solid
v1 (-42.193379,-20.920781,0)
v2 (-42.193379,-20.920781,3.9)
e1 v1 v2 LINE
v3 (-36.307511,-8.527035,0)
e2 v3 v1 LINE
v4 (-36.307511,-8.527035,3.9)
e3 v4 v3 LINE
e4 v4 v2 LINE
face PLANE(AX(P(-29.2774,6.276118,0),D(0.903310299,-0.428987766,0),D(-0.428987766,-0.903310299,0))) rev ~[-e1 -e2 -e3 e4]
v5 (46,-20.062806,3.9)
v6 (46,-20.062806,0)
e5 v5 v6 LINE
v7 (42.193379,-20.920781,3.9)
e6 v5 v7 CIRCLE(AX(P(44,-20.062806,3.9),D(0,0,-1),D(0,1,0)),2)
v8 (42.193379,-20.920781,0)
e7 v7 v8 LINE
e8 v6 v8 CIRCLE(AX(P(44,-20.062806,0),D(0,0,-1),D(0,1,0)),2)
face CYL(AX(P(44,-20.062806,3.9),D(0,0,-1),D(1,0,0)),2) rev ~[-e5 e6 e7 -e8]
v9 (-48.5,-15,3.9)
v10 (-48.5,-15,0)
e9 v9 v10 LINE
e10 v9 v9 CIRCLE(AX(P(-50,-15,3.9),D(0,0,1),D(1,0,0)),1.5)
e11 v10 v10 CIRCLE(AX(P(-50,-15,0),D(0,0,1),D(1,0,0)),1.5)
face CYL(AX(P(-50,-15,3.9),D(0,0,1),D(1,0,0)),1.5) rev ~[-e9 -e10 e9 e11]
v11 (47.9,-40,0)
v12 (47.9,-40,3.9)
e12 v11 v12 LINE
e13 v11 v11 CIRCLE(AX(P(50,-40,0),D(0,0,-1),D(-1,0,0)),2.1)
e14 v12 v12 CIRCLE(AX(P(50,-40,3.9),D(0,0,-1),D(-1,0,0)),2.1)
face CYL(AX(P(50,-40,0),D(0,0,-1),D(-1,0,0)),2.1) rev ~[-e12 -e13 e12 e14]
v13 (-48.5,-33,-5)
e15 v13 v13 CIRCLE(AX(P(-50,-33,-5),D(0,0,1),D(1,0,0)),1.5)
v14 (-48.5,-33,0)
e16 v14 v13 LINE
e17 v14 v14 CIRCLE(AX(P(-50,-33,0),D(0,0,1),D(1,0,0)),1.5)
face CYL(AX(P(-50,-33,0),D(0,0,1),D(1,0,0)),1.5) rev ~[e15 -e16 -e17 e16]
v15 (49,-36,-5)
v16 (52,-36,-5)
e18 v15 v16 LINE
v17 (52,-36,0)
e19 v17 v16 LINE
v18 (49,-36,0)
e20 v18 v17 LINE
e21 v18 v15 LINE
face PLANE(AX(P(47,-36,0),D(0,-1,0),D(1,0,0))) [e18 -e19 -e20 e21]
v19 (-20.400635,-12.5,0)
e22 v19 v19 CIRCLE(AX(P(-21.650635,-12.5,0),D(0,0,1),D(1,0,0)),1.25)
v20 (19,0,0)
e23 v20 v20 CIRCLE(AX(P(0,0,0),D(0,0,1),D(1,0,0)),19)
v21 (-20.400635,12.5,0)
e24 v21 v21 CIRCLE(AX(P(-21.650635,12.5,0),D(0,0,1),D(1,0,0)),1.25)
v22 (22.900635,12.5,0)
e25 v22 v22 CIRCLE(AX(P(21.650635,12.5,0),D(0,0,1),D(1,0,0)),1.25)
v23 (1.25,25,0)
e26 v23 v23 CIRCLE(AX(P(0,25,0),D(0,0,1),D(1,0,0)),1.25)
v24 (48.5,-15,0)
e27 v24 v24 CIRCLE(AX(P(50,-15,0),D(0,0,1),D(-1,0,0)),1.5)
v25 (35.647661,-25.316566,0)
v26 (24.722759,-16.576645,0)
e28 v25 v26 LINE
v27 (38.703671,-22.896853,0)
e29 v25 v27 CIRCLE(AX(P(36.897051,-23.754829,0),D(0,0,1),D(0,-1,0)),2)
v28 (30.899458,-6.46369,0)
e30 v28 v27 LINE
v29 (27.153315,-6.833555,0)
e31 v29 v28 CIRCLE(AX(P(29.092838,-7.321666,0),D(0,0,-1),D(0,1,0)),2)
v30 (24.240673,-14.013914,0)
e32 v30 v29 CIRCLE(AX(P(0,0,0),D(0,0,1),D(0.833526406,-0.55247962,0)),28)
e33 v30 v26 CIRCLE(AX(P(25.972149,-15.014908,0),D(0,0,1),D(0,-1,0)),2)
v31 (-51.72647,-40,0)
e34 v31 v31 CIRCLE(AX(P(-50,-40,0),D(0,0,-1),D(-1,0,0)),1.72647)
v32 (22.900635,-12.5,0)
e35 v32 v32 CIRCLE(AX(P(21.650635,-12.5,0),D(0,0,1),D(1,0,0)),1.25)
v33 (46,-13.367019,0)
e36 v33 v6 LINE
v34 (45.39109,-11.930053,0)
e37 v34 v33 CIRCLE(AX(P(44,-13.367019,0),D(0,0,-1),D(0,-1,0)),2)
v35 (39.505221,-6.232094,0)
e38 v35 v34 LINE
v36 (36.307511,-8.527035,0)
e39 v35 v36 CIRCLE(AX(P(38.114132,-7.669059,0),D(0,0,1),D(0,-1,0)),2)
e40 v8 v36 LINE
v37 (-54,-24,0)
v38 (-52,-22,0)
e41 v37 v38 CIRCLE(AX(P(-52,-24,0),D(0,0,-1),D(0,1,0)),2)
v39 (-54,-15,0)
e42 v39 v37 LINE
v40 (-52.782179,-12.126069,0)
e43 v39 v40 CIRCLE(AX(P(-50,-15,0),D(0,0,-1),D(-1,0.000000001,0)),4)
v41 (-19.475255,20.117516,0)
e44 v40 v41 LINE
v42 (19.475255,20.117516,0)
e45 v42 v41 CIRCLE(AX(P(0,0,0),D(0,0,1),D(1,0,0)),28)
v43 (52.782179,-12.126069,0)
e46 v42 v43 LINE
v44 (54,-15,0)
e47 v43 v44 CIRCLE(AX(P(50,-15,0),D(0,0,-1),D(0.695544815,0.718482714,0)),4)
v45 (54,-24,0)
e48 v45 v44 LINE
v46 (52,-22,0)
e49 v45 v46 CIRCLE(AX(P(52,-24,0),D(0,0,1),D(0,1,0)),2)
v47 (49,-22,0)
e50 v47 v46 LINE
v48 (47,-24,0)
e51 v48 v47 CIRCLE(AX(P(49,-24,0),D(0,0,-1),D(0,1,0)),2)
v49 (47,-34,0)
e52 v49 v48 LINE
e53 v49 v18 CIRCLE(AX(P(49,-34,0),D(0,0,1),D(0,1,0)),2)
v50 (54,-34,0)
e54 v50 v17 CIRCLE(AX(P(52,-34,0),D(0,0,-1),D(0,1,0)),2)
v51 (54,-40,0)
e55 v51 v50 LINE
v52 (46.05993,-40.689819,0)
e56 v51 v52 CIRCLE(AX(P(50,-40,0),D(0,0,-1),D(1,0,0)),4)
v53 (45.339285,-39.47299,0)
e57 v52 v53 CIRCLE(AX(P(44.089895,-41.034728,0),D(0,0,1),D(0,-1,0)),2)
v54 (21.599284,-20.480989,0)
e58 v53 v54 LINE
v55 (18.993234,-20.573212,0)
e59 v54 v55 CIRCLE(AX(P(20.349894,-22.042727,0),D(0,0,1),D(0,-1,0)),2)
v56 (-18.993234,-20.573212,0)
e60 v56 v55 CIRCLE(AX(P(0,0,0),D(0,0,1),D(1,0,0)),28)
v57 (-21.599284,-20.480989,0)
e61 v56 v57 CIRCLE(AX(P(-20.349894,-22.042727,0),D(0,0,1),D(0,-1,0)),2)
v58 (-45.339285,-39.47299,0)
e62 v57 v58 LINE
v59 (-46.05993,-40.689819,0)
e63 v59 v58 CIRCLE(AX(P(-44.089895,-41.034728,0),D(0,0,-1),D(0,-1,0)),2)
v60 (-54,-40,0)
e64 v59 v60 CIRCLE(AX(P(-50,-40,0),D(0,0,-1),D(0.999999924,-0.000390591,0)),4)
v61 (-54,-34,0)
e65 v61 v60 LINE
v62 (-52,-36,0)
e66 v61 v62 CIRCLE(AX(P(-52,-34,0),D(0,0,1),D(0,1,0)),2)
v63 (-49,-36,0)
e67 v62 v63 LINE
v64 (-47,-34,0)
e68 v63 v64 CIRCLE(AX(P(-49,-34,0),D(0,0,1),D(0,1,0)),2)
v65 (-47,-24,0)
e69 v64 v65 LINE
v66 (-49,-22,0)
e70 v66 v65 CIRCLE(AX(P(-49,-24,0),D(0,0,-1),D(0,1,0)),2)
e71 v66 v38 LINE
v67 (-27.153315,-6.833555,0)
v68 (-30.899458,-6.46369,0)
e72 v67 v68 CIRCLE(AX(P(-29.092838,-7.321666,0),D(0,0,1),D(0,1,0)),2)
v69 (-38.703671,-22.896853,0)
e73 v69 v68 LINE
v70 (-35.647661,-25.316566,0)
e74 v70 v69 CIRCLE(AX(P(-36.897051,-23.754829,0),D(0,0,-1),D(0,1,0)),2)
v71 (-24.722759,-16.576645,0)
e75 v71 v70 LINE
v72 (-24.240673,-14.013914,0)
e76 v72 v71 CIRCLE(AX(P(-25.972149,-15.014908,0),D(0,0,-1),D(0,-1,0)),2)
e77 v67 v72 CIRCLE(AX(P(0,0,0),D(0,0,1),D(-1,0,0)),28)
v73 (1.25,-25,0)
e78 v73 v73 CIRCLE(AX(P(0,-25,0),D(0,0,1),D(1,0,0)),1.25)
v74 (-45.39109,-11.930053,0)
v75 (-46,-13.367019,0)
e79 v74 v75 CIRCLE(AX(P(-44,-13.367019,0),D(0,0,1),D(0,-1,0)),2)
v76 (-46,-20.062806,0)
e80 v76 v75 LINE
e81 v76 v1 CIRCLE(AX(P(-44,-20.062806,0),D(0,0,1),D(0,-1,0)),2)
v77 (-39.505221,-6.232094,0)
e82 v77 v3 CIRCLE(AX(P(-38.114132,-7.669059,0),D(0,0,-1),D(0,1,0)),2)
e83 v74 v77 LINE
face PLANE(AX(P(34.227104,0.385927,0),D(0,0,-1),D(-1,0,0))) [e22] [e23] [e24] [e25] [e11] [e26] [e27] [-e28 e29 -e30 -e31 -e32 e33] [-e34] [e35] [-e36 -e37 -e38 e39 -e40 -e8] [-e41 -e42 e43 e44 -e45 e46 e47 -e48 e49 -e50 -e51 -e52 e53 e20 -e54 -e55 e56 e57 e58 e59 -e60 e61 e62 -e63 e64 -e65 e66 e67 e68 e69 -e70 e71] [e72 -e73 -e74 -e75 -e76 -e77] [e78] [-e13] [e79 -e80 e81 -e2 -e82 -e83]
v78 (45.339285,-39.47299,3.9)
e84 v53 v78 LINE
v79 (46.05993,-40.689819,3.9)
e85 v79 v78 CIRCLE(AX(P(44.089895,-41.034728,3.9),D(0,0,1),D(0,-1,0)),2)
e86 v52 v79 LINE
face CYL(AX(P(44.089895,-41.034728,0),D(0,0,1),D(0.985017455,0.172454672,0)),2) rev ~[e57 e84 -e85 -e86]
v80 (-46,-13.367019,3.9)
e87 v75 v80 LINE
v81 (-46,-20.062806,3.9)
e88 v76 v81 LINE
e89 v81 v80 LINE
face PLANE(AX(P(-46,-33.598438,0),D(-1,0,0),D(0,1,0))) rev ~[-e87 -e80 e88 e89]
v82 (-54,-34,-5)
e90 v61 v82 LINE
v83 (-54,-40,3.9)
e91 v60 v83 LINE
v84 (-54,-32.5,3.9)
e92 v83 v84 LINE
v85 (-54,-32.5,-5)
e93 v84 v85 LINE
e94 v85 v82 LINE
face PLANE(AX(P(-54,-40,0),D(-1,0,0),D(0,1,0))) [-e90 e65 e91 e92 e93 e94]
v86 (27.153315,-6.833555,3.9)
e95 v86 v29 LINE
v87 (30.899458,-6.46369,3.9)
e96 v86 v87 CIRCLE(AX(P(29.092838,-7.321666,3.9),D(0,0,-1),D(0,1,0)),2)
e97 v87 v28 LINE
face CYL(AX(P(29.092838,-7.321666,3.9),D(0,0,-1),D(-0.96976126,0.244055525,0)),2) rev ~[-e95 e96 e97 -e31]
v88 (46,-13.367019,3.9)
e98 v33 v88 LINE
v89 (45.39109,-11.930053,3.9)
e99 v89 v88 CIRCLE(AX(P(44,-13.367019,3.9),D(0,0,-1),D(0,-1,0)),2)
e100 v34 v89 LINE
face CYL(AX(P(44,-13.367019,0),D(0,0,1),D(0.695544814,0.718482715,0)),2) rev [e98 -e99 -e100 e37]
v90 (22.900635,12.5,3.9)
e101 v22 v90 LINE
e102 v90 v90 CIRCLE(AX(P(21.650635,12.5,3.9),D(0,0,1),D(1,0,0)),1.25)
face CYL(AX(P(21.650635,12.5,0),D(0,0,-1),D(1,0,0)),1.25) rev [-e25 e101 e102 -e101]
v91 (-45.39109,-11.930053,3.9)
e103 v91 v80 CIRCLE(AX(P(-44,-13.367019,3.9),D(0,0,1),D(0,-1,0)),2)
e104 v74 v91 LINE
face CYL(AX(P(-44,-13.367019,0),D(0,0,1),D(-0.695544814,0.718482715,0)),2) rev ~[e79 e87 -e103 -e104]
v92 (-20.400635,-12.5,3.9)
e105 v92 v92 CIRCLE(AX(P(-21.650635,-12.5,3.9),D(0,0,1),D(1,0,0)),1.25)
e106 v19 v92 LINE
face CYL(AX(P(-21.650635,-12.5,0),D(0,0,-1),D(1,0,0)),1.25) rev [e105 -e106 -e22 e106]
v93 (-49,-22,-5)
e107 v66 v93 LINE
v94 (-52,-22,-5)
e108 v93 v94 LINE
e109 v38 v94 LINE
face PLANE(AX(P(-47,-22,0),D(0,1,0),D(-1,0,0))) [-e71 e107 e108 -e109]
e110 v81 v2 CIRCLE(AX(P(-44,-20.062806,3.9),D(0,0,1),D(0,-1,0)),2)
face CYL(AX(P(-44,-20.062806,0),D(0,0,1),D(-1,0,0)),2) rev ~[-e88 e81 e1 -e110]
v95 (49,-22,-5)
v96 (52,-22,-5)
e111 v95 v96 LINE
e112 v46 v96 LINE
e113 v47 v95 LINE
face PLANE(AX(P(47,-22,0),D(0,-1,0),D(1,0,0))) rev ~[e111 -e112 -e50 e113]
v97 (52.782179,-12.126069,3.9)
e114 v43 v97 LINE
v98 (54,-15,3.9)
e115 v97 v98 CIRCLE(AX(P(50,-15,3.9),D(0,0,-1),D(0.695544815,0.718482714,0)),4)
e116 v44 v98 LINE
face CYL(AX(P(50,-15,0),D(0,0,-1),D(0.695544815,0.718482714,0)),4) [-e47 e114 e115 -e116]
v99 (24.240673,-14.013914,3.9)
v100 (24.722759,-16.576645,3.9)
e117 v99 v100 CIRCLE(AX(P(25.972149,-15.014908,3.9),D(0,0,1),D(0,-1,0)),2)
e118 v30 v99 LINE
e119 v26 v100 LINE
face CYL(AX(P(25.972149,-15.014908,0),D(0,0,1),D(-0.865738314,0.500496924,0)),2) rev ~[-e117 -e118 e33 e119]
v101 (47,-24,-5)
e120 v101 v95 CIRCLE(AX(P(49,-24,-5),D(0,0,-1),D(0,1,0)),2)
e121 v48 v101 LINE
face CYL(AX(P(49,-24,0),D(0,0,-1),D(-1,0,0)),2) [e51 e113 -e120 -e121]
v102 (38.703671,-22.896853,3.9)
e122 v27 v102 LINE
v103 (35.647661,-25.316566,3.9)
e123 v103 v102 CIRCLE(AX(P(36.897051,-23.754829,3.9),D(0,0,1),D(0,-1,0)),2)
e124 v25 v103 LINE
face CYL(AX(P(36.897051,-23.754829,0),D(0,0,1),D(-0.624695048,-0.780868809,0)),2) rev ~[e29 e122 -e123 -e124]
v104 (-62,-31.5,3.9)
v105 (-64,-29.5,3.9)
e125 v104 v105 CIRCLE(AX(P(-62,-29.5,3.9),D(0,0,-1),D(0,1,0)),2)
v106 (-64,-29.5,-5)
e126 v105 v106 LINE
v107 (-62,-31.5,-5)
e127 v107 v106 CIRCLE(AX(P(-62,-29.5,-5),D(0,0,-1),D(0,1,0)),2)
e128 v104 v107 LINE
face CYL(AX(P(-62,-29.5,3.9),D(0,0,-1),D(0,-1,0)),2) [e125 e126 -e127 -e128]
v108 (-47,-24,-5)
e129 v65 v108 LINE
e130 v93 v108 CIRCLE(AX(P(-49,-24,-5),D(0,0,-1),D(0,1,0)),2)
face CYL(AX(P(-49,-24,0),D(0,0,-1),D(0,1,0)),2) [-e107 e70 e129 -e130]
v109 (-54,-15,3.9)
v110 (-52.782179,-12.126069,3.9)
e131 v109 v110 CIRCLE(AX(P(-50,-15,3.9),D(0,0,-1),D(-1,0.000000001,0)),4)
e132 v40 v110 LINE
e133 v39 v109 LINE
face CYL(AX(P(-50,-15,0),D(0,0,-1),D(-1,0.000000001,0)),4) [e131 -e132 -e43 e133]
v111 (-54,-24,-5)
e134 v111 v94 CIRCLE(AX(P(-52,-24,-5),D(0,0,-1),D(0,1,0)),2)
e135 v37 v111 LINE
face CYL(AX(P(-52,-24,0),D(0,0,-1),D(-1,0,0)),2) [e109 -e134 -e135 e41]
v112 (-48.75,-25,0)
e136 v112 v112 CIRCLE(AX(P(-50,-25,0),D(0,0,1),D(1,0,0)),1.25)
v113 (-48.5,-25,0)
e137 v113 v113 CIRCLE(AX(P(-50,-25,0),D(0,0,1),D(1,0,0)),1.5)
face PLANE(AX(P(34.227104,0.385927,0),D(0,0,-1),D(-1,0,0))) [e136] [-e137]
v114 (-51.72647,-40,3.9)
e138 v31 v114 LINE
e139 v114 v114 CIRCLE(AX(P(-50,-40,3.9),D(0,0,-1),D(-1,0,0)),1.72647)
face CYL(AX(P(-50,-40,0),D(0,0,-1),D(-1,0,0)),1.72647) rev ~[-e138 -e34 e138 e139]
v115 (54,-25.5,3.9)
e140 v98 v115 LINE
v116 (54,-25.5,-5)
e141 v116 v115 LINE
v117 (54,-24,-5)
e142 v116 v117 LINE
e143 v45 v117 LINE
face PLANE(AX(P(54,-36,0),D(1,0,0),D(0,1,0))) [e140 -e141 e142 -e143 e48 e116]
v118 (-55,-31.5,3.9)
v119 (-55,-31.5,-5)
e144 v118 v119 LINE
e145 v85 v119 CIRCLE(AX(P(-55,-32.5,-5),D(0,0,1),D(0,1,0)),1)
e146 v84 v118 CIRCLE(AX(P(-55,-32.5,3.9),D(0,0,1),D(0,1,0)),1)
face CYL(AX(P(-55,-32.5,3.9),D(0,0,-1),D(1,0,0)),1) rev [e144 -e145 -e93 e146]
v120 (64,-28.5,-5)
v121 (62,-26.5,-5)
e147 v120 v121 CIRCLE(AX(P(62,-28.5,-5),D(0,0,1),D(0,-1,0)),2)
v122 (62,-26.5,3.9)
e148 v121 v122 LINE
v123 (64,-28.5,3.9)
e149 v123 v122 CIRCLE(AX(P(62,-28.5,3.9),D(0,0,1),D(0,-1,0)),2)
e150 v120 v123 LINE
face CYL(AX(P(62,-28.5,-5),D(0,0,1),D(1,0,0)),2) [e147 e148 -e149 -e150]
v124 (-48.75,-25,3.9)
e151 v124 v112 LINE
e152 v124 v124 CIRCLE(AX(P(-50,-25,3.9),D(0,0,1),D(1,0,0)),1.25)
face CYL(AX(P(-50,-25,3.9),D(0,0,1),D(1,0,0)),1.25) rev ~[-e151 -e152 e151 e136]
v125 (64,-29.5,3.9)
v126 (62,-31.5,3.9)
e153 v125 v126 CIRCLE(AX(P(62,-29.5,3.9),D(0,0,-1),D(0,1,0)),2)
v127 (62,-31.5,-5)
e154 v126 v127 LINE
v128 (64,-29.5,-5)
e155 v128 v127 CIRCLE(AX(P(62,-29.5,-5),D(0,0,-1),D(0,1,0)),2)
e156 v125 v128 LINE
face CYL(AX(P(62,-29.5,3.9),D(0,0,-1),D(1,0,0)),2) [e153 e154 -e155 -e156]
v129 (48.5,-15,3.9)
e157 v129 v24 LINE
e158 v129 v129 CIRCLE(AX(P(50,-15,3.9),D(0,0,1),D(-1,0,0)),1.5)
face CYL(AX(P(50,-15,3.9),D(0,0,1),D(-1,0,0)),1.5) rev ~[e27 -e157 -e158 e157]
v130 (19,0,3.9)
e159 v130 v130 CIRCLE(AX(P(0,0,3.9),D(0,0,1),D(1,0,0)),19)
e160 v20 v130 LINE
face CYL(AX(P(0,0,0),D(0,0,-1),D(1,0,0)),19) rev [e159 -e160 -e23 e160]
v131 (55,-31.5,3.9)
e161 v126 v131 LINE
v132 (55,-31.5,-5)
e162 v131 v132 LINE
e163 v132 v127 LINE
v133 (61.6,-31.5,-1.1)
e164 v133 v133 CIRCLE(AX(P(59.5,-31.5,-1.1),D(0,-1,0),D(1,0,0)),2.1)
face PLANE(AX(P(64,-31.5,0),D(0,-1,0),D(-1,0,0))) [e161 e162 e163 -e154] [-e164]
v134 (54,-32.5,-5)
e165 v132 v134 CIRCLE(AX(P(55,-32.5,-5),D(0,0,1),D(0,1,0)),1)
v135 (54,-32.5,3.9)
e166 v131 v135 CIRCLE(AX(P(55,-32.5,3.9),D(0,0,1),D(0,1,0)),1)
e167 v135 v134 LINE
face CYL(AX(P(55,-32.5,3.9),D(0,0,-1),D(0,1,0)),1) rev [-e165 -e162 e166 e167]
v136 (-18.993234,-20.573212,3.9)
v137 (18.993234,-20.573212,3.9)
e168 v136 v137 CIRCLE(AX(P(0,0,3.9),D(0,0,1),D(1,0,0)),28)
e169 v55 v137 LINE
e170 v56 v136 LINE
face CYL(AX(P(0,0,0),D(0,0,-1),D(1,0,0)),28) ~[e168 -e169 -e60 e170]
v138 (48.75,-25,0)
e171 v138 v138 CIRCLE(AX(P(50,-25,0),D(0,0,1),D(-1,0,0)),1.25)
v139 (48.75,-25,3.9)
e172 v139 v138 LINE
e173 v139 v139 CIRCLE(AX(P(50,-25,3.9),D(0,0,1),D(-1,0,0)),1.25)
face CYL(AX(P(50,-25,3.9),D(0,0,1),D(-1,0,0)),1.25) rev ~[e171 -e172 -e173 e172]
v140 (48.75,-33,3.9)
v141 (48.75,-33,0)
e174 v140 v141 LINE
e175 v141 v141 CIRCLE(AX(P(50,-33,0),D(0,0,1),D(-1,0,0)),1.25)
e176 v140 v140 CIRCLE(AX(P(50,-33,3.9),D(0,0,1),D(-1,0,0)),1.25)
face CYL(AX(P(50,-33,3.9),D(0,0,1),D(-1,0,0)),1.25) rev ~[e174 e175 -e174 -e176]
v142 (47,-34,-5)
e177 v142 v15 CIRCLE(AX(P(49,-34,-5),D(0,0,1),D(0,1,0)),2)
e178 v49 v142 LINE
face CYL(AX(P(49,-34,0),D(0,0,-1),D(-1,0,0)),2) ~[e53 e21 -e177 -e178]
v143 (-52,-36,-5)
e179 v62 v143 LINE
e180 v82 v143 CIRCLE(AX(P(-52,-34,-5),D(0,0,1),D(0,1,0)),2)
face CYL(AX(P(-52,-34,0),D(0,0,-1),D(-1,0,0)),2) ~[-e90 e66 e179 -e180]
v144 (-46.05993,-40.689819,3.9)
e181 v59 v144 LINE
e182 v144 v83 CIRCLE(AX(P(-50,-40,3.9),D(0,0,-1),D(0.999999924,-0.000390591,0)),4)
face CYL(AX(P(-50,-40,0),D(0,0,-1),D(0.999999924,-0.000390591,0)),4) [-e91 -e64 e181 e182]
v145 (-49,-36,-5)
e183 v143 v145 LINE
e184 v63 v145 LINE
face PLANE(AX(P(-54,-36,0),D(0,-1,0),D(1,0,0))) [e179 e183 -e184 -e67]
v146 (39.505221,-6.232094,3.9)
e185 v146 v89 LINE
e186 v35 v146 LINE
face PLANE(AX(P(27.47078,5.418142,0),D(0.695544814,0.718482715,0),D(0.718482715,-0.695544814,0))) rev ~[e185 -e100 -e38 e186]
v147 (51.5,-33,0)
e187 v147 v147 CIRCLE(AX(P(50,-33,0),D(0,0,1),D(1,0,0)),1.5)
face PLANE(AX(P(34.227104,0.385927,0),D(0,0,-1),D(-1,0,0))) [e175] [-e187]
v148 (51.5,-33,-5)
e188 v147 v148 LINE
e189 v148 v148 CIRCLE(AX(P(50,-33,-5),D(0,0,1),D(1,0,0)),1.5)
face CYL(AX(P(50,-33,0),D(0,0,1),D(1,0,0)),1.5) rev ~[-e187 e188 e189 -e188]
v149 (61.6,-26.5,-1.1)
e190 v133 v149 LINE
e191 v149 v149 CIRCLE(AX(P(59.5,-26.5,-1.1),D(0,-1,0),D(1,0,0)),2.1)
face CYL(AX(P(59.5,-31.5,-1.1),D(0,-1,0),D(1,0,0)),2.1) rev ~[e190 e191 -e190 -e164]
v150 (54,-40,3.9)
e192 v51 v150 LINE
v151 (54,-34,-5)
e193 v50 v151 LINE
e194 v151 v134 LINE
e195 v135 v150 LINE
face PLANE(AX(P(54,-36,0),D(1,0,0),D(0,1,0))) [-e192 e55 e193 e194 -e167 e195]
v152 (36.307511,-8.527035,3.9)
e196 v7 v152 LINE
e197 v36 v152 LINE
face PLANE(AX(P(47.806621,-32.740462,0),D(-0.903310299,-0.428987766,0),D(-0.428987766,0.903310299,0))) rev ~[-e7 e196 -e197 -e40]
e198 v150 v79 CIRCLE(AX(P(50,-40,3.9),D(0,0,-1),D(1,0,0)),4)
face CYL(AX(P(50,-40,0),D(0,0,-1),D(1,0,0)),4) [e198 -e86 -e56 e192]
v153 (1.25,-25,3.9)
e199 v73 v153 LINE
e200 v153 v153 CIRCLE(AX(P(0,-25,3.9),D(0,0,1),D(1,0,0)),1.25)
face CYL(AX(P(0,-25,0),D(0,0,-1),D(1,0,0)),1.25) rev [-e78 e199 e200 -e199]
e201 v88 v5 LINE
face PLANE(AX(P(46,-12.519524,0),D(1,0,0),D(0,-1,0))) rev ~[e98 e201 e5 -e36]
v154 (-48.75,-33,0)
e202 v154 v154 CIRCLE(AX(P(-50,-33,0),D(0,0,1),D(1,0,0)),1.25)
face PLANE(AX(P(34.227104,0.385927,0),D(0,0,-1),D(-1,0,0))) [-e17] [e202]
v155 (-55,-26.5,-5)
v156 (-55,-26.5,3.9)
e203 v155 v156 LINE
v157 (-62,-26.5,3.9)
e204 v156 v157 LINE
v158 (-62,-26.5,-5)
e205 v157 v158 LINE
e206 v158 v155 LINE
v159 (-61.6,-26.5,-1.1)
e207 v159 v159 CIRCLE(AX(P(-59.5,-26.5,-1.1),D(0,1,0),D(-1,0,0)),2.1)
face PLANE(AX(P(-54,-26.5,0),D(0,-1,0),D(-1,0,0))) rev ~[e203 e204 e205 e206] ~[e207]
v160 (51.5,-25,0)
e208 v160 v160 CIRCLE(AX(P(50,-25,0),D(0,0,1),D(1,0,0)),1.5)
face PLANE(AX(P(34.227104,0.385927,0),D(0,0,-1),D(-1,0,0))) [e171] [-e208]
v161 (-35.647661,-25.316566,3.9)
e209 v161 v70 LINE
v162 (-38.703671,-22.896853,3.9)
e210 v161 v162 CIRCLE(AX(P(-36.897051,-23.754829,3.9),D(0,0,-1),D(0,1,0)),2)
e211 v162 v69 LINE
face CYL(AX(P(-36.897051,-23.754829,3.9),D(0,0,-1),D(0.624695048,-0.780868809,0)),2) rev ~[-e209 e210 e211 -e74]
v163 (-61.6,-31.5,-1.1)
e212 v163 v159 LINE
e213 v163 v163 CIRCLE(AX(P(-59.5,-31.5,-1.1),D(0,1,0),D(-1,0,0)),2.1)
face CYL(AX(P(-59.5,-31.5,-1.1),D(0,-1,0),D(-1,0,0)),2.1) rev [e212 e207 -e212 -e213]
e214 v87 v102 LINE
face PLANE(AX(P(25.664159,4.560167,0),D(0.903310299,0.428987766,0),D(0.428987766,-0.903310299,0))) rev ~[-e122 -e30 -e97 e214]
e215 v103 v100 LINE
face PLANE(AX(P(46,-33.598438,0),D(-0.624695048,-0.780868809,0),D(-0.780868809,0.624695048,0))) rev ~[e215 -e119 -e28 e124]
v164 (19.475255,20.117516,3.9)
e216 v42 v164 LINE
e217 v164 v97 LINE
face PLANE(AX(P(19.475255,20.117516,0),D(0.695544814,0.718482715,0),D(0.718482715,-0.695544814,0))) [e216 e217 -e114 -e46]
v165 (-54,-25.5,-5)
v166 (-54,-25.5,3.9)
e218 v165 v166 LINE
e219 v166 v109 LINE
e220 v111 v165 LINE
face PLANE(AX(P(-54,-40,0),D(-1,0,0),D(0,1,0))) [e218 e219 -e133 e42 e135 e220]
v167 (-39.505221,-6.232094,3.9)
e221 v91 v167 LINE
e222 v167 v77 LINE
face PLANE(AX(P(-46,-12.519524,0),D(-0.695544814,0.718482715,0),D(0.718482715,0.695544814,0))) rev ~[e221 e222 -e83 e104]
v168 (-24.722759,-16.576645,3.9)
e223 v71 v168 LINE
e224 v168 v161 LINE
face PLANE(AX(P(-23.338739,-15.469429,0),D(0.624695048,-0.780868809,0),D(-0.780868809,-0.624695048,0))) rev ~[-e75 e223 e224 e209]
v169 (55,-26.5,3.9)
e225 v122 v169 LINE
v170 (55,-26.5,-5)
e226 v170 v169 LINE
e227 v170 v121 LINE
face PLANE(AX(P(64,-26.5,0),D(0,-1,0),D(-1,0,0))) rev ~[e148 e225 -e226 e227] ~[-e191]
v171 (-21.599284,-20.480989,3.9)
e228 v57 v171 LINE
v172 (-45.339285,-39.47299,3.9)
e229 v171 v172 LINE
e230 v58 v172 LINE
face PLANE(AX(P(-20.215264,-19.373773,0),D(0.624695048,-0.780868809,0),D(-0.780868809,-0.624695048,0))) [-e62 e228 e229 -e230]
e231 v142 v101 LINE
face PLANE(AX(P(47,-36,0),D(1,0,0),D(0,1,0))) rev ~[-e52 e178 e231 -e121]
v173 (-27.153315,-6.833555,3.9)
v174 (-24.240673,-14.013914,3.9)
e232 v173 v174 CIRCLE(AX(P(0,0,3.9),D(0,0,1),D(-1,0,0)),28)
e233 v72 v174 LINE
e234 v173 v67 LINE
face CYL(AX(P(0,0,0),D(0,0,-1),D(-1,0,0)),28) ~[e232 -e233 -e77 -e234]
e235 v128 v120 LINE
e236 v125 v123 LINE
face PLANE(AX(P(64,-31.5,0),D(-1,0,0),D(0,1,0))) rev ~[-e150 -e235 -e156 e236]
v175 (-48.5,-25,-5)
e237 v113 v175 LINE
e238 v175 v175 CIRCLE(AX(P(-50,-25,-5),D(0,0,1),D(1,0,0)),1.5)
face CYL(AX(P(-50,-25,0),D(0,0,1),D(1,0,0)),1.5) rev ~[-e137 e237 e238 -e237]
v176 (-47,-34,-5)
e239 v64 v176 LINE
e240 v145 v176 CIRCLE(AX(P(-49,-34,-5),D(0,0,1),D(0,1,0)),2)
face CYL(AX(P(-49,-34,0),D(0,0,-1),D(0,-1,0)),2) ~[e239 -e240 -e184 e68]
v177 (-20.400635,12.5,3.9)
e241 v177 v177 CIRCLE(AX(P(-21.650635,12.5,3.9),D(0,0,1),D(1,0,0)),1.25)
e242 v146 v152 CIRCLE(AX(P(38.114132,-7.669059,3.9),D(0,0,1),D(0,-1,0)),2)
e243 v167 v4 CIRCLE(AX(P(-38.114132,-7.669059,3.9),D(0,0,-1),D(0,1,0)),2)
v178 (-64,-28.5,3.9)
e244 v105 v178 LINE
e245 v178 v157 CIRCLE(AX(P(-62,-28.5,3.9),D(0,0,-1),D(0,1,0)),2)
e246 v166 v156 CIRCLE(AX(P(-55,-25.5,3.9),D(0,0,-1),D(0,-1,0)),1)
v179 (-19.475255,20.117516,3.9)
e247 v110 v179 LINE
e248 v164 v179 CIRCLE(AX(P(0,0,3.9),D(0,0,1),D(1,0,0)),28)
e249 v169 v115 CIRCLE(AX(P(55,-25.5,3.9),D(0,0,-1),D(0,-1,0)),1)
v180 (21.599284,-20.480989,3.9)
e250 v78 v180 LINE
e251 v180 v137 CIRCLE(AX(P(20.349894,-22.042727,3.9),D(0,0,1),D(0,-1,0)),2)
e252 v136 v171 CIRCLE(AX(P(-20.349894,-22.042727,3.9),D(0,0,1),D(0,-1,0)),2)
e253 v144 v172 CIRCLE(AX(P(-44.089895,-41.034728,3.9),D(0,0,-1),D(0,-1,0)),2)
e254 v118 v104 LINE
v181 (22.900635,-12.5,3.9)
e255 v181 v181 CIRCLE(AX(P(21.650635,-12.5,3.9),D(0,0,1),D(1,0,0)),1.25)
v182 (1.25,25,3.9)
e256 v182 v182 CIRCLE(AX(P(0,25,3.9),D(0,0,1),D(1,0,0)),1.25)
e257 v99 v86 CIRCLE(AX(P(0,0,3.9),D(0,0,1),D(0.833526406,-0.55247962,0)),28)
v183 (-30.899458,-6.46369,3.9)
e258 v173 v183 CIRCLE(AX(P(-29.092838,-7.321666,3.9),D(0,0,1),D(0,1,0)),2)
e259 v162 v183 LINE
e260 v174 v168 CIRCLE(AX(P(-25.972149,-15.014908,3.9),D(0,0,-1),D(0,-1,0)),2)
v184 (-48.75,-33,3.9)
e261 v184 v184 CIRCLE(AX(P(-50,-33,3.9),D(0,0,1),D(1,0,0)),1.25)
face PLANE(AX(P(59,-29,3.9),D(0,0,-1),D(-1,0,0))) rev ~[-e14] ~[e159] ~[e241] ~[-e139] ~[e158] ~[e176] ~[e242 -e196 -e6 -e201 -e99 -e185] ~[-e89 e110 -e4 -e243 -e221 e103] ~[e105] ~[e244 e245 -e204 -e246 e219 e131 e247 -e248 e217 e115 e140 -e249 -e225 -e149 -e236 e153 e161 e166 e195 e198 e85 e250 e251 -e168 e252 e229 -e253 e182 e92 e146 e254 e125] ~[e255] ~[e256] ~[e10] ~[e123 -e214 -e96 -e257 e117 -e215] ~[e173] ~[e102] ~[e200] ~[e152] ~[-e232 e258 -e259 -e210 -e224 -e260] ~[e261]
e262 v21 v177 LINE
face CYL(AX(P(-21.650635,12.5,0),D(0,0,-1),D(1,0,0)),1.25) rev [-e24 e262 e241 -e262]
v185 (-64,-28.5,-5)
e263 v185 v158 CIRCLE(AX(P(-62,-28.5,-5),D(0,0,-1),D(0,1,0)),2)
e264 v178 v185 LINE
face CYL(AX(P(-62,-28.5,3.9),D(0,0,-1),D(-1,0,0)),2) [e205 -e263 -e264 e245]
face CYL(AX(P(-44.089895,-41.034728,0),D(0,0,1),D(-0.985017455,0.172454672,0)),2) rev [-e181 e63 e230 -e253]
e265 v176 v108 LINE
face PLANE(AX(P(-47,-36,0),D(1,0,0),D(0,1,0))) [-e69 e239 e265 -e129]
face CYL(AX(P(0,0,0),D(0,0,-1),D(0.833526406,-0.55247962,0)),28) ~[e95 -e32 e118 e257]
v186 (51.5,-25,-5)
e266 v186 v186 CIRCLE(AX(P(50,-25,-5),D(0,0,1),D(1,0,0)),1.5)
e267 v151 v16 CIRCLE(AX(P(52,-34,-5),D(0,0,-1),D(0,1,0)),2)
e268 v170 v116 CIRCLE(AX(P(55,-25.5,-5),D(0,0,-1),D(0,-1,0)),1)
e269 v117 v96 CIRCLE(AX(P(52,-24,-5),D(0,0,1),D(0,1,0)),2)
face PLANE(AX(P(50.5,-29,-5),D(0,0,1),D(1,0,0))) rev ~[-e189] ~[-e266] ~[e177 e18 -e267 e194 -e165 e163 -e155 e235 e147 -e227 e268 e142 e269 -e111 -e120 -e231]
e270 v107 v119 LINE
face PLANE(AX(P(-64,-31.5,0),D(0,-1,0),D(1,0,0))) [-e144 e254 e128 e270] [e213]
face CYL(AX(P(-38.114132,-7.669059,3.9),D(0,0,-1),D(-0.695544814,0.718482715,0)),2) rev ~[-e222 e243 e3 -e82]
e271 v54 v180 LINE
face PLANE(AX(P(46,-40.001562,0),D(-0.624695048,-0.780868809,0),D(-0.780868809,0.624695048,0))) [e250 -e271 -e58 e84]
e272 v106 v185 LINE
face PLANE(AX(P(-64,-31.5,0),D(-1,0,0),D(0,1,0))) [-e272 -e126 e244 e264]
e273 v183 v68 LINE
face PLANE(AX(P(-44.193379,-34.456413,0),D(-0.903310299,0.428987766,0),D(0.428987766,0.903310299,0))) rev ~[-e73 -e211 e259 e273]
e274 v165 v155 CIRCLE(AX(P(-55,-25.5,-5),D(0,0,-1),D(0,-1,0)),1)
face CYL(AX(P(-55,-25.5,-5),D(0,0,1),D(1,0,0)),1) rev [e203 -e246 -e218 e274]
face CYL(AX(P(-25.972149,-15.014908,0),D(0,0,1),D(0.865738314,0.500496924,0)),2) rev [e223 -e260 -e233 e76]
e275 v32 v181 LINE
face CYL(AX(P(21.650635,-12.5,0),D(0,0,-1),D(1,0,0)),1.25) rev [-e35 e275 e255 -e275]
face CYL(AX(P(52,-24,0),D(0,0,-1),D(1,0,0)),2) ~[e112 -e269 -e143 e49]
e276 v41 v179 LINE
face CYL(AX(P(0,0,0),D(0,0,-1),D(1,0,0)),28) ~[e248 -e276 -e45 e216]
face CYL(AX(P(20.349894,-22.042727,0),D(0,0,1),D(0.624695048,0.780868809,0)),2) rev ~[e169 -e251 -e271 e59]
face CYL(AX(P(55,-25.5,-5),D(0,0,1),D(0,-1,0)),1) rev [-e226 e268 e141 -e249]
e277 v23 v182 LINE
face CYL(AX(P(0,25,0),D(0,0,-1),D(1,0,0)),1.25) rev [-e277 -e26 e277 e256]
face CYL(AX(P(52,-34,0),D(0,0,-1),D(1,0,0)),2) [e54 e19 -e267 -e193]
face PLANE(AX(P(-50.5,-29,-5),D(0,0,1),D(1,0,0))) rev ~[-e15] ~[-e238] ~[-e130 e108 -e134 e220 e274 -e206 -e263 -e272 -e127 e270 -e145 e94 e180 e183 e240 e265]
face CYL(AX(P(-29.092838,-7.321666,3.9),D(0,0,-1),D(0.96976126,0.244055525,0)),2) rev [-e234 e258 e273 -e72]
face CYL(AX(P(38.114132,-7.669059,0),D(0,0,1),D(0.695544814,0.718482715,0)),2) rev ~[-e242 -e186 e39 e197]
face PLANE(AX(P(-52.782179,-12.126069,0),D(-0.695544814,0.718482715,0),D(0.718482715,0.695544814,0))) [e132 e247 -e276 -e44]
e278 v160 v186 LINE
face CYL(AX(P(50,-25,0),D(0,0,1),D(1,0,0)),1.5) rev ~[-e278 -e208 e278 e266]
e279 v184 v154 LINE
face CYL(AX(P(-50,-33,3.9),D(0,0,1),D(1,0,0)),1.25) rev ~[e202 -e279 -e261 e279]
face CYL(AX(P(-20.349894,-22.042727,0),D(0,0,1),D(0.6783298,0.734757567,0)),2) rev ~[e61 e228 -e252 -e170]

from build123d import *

# Parameters (mm, degrees)
SKETCH_1_R          = 28
SKETCH_1_R_2        = 19
SKETCH_1_R_3        = 1.25
EXTRUDE_1_DEPTH     = 3.9
SKETCH_2_R          = 2.1
SKETCH_2_R_2        = 1.726470001
EXTRUDE_2_DEPTH     = 3.9
CUT_EXTRUDE_2_DEPTH = 3.9
EXTRUDE_4_DEPTH     = 3.9
FILLET_4_R          = 2
SKETCH_7_R          = 1.5
SKETCH_7_R_2        = 1.25
CUT_EXTRUDE_4_DEPTH = 3.9
EXTRUDE_START       = -3.9
SKETCH_8_W          = 7
SKETCH_8_H          = 14
SKETCH_8_R          = 1.5
SKETCH_8_W_2        = 10
SKETCH_8_H_2        = 5
EXTRUDE_5_DEPTH     = 5
EXTRUDE_START_2     = -5
SKETCH_9_W          = 10
SKETCH_9_H          = 5
EXTRUDE_6_DEPTH     = 3.9
SKETCH_10_R         = 2.1
CUT_EXTRUDE_5_DEPTH = 5
FILLET_5_R          = 2
FILLET_6_R          = 1


with BuildPart() as part:
    # 草图1 → 凸台-拉伸1 (new body)
    with BuildSketch(Plane.XY):
        Circle(SKETCH_1_R)
        Circle(SKETCH_1_R_2, mode=Mode.SUBTRACT)
        with Locations((0, 25)):
            Circle(SKETCH_1_R_3, mode=Mode.SUBTRACT)
        with Locations((21.650635095, 12.5)):
            Circle(SKETCH_1_R_3, mode=Mode.SUBTRACT)
        with Locations((21.650635095, -12.5)):
            Circle(SKETCH_1_R_3, mode=Mode.SUBTRACT)
        with Locations((0, -25)):
            Circle(SKETCH_1_R_3, mode=Mode.SUBTRACT)
        with Locations((-21.650635095, -12.5)):
            Circle(SKETCH_1_R_3, mode=Mode.SUBTRACT)
        with Locations((-21.650635095, 12.5)):
            Circle(SKETCH_1_R_3, mode=Mode.SUBTRACT)
    extrude(amount=EXTRUDE_1_DEPTH)

    # 草图2 → 凸台-拉伸2 (add)
    # profile 1 of 10: a face of its own
    with BuildSketch(Plane(origin=(0, 0, 0), x_dir=(-1, 0, 0), z_dir=(0, 0, -1))):
        with BuildLine():
            ThreePointArc((-52.782179258, -12.126069142), (-48.439345815, -11.317017715), (-46, -15))
            Line((-46, -15), (-26.826428926, -8.021390844))
            ThreePointArc((-26.826428926, -8.021390844), (-27.090791771, 7.077358352), (-19.475254803, 20.117516009))
            Line((-19.475254803, 20.117516009), (-52.782179258, -12.126069142))
        make_face()
    # profile 2 of 10: a face of its own
    with BuildSketch(Plane(origin=(0, 0, 0), x_dir=(-1, 0, 0), z_dir=(0, 0, -1))):
        with BuildLine():
            Line((-46, -33.598437881), (-46, -15))
            ThreePointArc((-46, -15), (-48.439345815, -11.317017715), (-52.782179258, -12.126069142))
            ThreePointArc((-52.782179258, -12.126069142), (-53.682982285, -13.439345815), (-54, -15))
            Line((-54, -15), (-54, -40))
            ThreePointArc((-54, -40), (-50.000781181, -43.999999924), (-46.000000305, -40.001562363))
            Line((-46.000000305, -40.001562363), (-48.438262381, -41.952172024))
            ThreePointArc((-48.438262381, -41.952172024), (-51.952172024, -41.561737619), (-51.561737619, -38.047827976))
            Line((-51.561737619, -38.047827976), (-46, -33.598437881))
        make_face()
    # profile 3 of 10: a face of its own
    with BuildSketch(Plane(origin=(0, 0, 0), x_dir=(-1, 0, 0), z_dir=(0, 0, -1))):
        with BuildLine():
            Line((-23.338739361, -15.46942937), (-46, -33.598437881))
            Line((-46, -33.598437881), (-46, -40))
            ThreePointArc((-46, -40), (-46.000000076, -40.000781181), (-46.000000305, -40.001562363))
            Line((-46.000000305, -40.001562363), (-20.215264123, -19.373773417))
            ThreePointArc((-20.215264123, -19.373773417), (-21.864326664, -17.491461332), (-23.338739361, -15.46942937))
        make_face()
    # profile 4 of 10: a face of its own
    with BuildSketch(Plane(origin=(0, 0, 0), x_dir=(-1, 0, 0), z_dir=(0, 0, -1))):
        with BuildLine():
            Line((-46, -40), (-46, -33.598437881))
            Line((-46, -33.598437881), (-51.561737619, -38.047827976))
            ThreePointArc((-51.561737619, -38.047827976), (-51.952172024, -41.561737619), (-48.438262381, -41.952172024))
            Line((-48.438262381, -41.952172024), (-46.000000305, -40.001562363))
            ThreePointArc((-46.000000305, -40.001562363), (-46.000000076, -40.000781181), (-46, -40))
        make_face()
        with Locations((-50, -40)):
            Circle(SKETCH_2_R, mode=Mode.SUBTRACT)
    # profile 5 of 10: a face of its own
    with BuildSketch(Plane(origin=(0, 0, 0), x_dir=(-1, 0, 0), z_dir=(0, 0, -1))):
        with BuildLine():
            ThreePointArc((23.338739361, -15.46942937), (21.864326664, -17.491461332), (20.215264123, -19.373773417))
            Line((20.215264123, -19.373773417), (46.000000305, -40.001562363))
            ThreePointArc((46.000000305, -40.001562363), (46.000000076, -40.000781181), (46, -40))
            Line((46, -40), (46, -33.598437881))
            Line((46, -33.598437881), (23.338739361, -15.46942937))
        make_face()
    # profile 6 of 10: a face of its own
    with BuildSketch(Plane(origin=(0, 0, 0), x_dir=(-1, 0, 0), z_dir=(0, 0, -1))):
        with BuildLine():
            ThreePointArc((54, -15), (53.682982285, -13.439345815), (52.782179258, -12.126069142))
            ThreePointArc((52.782179258, -12.126069142), (48.439345815, -11.317017715), (46, -15))
            Line((46, -15), (46, -33.598437881))
            Line((46, -33.598437881), (51.561737619, -38.047827976))
            ThreePointArc((51.561737619, -38.047827976), (51.952172024, -41.561737619), (48.438262381, -41.952172024))
            Line((48.438262381, -41.952172024), (46.000000305, -40.001562363))
            ThreePointArc((46.000000305, -40.001562363), (50.000781181, -43.999999924), (54, -40))
            Line((54, -40), (54, -15))
        make_face()
    # profile 7 of 10: a face of its own
    with BuildSketch(Plane(origin=(0, 0, 0), x_dir=(-1, 0, 0), z_dir=(0, 0, -1))):
        with BuildLine():
            Line((52.782179258, -12.126069142), (19.475254803, 20.117516009))
            ThreePointArc((19.475254803, 20.117516009), (25.780875998, 10.924579295), (28, 0))
            ThreePointArc((28, 0), (27.70505378, -4.053393028), (26.826428926, -8.021390844))
            Line((26.826428926, -8.021390844), (46, -15))
            ThreePointArc((46, -15), (48.439345815, -11.317017715), (52.782179258, -12.126069142))
        make_face()
    # profile 8 of 10: a face of its own
    with BuildSketch(Plane(origin=(0, 0, 0), x_dir=(-1, 0, 0), z_dir=(0, 0, -1))):
        with BuildLine():
            ThreePointArc((46, -40), (46.000000076, -40.000781181), (46.000000305, -40.001562363))
            Line((46.000000305, -40.001562363), (48.438262381, -41.952172024))
            ThreePointArc((48.438262381, -41.952172024), (51.952172024, -41.561737619), (51.561737619, -38.047827976))
            Line((51.561737619, -38.047827976), (46, -33.598437881))
            Line((46, -33.598437881), (46, -40))
        make_face()
        with Locations((50, -40)):
            Circle(SKETCH_2_R_2, mode=Mode.SUBTRACT)
    # profile 9 of 10: a face of its own
    with BuildSketch(Plane(origin=(0, 0, 0), x_dir=(-1, 0, 0), z_dir=(0, 0, -1))):
        with BuildLine():
            Line((-26.826428926, -8.021390844), (-46, -15))
            Line((-46, -15), (-46, -33.598437881))
            Line((-46, -33.598437881), (-23.338739361, -15.46942937))
            ThreePointArc((-23.338739361, -15.46942937), (-25.357530376, -11.874159053), (-26.826428926, -8.021390844))
        make_face()
    # profile 10 of 10: a face of its own
    with BuildSketch(Plane(origin=(0, 0, 0), x_dir=(-1, 0, 0), z_dir=(0, 0, -1))):
        with BuildLine():
            Line((46, -33.598437881), (46, -15))
            Line((46, -15), (26.826428926, -8.021390844))
            ThreePointArc((26.826428926, -8.021390844), (25.357530376, -11.874159053), (23.338739361, -15.46942937))
            Line((23.338739361, -15.46942937), (46, -33.598437881))
        make_face()
    extrude(amount=-EXTRUDE_2_DEPTH)

    # 草图4 → 切除-拉伸2 (cut)
    with BuildSketch(Plane(origin=(0, 0, 0), x_dir=(-1, 0, 0), z_dir=(0, 0, -1))):
        with BuildLine():
            ThreePointArc((-23.338739361, -15.46942937), (-27.467698641, -5.433740088), (-27.47077961, 5.418142449))
            Line((-27.47077961, 5.418142449), (-46, -12.519523822))
            Line((-46, -12.519523822), (-46, -15))
            Line((-46, -15), (-46, -33.598437881))
            Line((-46, -33.598437881), (-23.338739361, -15.46942937))
        make_face()
        with BuildLine():
            Line((46, -12.519523822), (27.47077961, 5.418142449))
            ThreePointArc((27.47077961, 5.418142449), (27.867380834, 2.721963529), (28, 0))
            ThreePointArc((28, 0), (26.809370583, -8.078220655), (23.338739361, -15.46942937))
            Line((23.338739361, -15.46942937), (46, -33.598437881))
            Line((46, -33.598437881), (46, -15))
            Line((46, -15), (46, -12.519523822))
        make_face()
    extrude(amount=-CUT_EXTRUDE_2_DEPTH, mode=Mode.SUBTRACT)

    # 草图5 → 凸台-拉伸4 (add)
    with BuildSketch(Plane(origin=(0, 0, 0), x_dir=(-1, 0, 0), z_dir=(0, 0, -1))):
        with BuildLine():
            Line((-47.806620599, -32.74046235), (-29.277400209, 6.27611798))
            ThreePointArc((-29.277400209, 6.27611798), (-26.612804079, 7.224763048), (-25.664159012, 4.560166918))
            Line((-25.664159012, 4.560166918), (-44.193379401, -34.456413412))
            ThreePointArc((-44.193379401, -34.456413412), (-46.857975531, -35.40505848), (-47.806620599, -32.74046235))
        make_face()
        with BuildLine():
            Line((29.277400209, 6.27611798), (47.806620599, -32.74046235))
            ThreePointArc((47.806620599, -32.74046235), (46.857975531, -35.40505848), (44.193379401, -34.456413412))
            Line((44.193379401, -34.456413412), (25.664159012, 4.560166918))
            ThreePointArc((25.664159012, 4.560166918), (26.612804079, 7.224763048), (29.277400209, 6.27611798))
        make_face()
    extrude(amount=-EXTRUDE_4_DEPTH)

    # 圆角4
    fillet_4_edges = [part.edges().sort_by_distance(p)[0] for p in [
        (-23.338739361, -15.46942937, 1.95),
        (-46, -12.519523822, 1.95),
        (31.568987667, 1.450771621, 1.95),
        (42.429337125, -30.741907581, 1.95),
        (46, -28.936300263, 1.95),
        (27.997766422, -0.35365995, 1.95),
        (-42.429337125, -30.741907581, 1.95),
        (-46, -28.936300263, 1.95),
        (-31.568987667, 1.450771621, 1.95),
        (-27.997766422, -0.35365995, 1.95),
        (20.215264123, -19.373773417, 1.95),
        (46.000000305, -40.001562363, 1.95),
        (-46.000000305, -40.001562363, 1.95),
        (-20.215264123, -19.373773417, 1.95),
        (23.338739361, -15.46942937, 1.95),
        (46, -12.519523822, 1.95),
    ]]
    fillet(fillet_4_edges, radius=FILLET_4_R)

    # 草图7 → 切除-拉伸4 (cut)
    with BuildSketch(Plane.XY.offset(3.9)):
        with Locations((-50, -15)):
            Circle(SKETCH_7_R)
        with Locations((-50, -33)):
            Circle(SKETCH_7_R_2)
        with Locations((-50, -25)):
            Circle(SKETCH_7_R_2)
        with Locations(Location((50, -15, 0), (0, 0, 180))):
            Circle(SKETCH_7_R)
        with Locations(Location((50, -25, 0), (0, 0, 180))):
            Circle(SKETCH_7_R_2)
        with Locations(Location((50, -33, 0), (0, 0, 180))):
            Circle(SKETCH_7_R_2)
    extrude(amount=-CUT_EXTRUDE_4_DEPTH, mode=Mode.SUBTRACT)

    # 草图8 → 凸台-拉伸5 (add)
    # profile 1 of 4: a face of its own
    with BuildSketch(Plane.XY.offset(3.9).offset(EXTRUDE_START)):
        with Locations((50.5, -29)):
            Rectangle(SKETCH_8_W, SKETCH_8_H)
        with Locations((50, -33)):
            Circle(SKETCH_8_R, mode=Mode.SUBTRACT)
        with Locations((50, -25)):
            Circle(SKETCH_8_R, mode=Mode.SUBTRACT)
    # profile 2 of 4: a face of its own
    with BuildSketch(Plane.XY.offset(3.9).offset(EXTRUDE_START)):
        with Locations((59, -29)):
            Rectangle(SKETCH_8_W_2, SKETCH_8_H_2)
    # profile 3 of 4: a face of its own
    with BuildSketch(Plane.XY.offset(3.9).offset(EXTRUDE_START)):
        Polygon((-54, -26.5), (-54, -31.5), (-54, -36), (-47, -36), (-47, -22), (-54, -22), align=None)
        with Locations((-50, -33)):
            Circle(SKETCH_8_R, mode=Mode.SUBTRACT)
        with Locations((-50, -25)):
            Circle(SKETCH_8_R, mode=Mode.SUBTRACT)
    # profile 4 of 4: a face of its own
    with BuildSketch(Plane.XY.offset(3.9).offset(EXTRUDE_START)):
        with Locations((-59, -29)):
            Rectangle(SKETCH_8_W_2, SKETCH_8_H_2)
    extrude(amount=-EXTRUDE_5_DEPTH)

    # 草图9 → 凸台-拉伸6 (add)
    with BuildSketch(Plane(origin=(0, 0, -5), x_dir=(-1, 0, 0), z_dir=(0, 0, -1)).offset(EXTRUDE_START_2)):
        with Locations((-59, -29)):
            Rectangle(SKETCH_9_W, SKETCH_9_H)
        with Locations((59, -29)):
            Rectangle(SKETCH_9_W, SKETCH_9_H)
    extrude(amount=-EXTRUDE_6_DEPTH)

    # 草图10 → 切除-拉伸5 (cut)
    with BuildSketch(Plane.XZ.offset(31.5)):
        with Locations((59.5, -1.1)):
            Circle(SKETCH_10_R)
    cut_extrude_5 = extrude(amount=-CUT_EXTRUDE_5_DEPTH, mode=Mode.SUBTRACT)

    # 圆角5
    fillet_5_edges = [part.edges().sort_by_distance(p)[0] for p in [
        (54, -36, -2.5),
        (47, -36, -2.5),
        (47, -22, -2.5),
        (54, -22, -2.5),
        (64, -26.5, -0.55),
        (64, -31.5, -0.55),
        (-54, -36, -2.5),
        (-64, -31.5, -0.55),
        (-64, -26.5, -0.55),
        (-54, -22, -2.5),
        (-47, -22, -2.5),
        (-47, -36, -2.5),
    ]]
    fillet(fillet_5_edges, radius=FILLET_5_R)

    # 圆角6
    fillet_6_edges = [part.edges().sort_by_distance(p)[0] for p in [
        (54, -31.5, -0.55),
        (54, -26.5, -0.55),
        (-54, -31.5, -0.55),
        (-54, -26.5, -0.55),
    ]]
    fillet(fillet_6_edges, radius=FILLET_6_R)

    # 镜向9: 切除-拉伸5 across plane
    add(cut_extrude_5.mirror(Plane(origin=(0, 0, 0), x_dir=(0, 0, 1), z_dir=(1, 0, 0))), mode=Mode.SUBTRACT)


solid = part.part
